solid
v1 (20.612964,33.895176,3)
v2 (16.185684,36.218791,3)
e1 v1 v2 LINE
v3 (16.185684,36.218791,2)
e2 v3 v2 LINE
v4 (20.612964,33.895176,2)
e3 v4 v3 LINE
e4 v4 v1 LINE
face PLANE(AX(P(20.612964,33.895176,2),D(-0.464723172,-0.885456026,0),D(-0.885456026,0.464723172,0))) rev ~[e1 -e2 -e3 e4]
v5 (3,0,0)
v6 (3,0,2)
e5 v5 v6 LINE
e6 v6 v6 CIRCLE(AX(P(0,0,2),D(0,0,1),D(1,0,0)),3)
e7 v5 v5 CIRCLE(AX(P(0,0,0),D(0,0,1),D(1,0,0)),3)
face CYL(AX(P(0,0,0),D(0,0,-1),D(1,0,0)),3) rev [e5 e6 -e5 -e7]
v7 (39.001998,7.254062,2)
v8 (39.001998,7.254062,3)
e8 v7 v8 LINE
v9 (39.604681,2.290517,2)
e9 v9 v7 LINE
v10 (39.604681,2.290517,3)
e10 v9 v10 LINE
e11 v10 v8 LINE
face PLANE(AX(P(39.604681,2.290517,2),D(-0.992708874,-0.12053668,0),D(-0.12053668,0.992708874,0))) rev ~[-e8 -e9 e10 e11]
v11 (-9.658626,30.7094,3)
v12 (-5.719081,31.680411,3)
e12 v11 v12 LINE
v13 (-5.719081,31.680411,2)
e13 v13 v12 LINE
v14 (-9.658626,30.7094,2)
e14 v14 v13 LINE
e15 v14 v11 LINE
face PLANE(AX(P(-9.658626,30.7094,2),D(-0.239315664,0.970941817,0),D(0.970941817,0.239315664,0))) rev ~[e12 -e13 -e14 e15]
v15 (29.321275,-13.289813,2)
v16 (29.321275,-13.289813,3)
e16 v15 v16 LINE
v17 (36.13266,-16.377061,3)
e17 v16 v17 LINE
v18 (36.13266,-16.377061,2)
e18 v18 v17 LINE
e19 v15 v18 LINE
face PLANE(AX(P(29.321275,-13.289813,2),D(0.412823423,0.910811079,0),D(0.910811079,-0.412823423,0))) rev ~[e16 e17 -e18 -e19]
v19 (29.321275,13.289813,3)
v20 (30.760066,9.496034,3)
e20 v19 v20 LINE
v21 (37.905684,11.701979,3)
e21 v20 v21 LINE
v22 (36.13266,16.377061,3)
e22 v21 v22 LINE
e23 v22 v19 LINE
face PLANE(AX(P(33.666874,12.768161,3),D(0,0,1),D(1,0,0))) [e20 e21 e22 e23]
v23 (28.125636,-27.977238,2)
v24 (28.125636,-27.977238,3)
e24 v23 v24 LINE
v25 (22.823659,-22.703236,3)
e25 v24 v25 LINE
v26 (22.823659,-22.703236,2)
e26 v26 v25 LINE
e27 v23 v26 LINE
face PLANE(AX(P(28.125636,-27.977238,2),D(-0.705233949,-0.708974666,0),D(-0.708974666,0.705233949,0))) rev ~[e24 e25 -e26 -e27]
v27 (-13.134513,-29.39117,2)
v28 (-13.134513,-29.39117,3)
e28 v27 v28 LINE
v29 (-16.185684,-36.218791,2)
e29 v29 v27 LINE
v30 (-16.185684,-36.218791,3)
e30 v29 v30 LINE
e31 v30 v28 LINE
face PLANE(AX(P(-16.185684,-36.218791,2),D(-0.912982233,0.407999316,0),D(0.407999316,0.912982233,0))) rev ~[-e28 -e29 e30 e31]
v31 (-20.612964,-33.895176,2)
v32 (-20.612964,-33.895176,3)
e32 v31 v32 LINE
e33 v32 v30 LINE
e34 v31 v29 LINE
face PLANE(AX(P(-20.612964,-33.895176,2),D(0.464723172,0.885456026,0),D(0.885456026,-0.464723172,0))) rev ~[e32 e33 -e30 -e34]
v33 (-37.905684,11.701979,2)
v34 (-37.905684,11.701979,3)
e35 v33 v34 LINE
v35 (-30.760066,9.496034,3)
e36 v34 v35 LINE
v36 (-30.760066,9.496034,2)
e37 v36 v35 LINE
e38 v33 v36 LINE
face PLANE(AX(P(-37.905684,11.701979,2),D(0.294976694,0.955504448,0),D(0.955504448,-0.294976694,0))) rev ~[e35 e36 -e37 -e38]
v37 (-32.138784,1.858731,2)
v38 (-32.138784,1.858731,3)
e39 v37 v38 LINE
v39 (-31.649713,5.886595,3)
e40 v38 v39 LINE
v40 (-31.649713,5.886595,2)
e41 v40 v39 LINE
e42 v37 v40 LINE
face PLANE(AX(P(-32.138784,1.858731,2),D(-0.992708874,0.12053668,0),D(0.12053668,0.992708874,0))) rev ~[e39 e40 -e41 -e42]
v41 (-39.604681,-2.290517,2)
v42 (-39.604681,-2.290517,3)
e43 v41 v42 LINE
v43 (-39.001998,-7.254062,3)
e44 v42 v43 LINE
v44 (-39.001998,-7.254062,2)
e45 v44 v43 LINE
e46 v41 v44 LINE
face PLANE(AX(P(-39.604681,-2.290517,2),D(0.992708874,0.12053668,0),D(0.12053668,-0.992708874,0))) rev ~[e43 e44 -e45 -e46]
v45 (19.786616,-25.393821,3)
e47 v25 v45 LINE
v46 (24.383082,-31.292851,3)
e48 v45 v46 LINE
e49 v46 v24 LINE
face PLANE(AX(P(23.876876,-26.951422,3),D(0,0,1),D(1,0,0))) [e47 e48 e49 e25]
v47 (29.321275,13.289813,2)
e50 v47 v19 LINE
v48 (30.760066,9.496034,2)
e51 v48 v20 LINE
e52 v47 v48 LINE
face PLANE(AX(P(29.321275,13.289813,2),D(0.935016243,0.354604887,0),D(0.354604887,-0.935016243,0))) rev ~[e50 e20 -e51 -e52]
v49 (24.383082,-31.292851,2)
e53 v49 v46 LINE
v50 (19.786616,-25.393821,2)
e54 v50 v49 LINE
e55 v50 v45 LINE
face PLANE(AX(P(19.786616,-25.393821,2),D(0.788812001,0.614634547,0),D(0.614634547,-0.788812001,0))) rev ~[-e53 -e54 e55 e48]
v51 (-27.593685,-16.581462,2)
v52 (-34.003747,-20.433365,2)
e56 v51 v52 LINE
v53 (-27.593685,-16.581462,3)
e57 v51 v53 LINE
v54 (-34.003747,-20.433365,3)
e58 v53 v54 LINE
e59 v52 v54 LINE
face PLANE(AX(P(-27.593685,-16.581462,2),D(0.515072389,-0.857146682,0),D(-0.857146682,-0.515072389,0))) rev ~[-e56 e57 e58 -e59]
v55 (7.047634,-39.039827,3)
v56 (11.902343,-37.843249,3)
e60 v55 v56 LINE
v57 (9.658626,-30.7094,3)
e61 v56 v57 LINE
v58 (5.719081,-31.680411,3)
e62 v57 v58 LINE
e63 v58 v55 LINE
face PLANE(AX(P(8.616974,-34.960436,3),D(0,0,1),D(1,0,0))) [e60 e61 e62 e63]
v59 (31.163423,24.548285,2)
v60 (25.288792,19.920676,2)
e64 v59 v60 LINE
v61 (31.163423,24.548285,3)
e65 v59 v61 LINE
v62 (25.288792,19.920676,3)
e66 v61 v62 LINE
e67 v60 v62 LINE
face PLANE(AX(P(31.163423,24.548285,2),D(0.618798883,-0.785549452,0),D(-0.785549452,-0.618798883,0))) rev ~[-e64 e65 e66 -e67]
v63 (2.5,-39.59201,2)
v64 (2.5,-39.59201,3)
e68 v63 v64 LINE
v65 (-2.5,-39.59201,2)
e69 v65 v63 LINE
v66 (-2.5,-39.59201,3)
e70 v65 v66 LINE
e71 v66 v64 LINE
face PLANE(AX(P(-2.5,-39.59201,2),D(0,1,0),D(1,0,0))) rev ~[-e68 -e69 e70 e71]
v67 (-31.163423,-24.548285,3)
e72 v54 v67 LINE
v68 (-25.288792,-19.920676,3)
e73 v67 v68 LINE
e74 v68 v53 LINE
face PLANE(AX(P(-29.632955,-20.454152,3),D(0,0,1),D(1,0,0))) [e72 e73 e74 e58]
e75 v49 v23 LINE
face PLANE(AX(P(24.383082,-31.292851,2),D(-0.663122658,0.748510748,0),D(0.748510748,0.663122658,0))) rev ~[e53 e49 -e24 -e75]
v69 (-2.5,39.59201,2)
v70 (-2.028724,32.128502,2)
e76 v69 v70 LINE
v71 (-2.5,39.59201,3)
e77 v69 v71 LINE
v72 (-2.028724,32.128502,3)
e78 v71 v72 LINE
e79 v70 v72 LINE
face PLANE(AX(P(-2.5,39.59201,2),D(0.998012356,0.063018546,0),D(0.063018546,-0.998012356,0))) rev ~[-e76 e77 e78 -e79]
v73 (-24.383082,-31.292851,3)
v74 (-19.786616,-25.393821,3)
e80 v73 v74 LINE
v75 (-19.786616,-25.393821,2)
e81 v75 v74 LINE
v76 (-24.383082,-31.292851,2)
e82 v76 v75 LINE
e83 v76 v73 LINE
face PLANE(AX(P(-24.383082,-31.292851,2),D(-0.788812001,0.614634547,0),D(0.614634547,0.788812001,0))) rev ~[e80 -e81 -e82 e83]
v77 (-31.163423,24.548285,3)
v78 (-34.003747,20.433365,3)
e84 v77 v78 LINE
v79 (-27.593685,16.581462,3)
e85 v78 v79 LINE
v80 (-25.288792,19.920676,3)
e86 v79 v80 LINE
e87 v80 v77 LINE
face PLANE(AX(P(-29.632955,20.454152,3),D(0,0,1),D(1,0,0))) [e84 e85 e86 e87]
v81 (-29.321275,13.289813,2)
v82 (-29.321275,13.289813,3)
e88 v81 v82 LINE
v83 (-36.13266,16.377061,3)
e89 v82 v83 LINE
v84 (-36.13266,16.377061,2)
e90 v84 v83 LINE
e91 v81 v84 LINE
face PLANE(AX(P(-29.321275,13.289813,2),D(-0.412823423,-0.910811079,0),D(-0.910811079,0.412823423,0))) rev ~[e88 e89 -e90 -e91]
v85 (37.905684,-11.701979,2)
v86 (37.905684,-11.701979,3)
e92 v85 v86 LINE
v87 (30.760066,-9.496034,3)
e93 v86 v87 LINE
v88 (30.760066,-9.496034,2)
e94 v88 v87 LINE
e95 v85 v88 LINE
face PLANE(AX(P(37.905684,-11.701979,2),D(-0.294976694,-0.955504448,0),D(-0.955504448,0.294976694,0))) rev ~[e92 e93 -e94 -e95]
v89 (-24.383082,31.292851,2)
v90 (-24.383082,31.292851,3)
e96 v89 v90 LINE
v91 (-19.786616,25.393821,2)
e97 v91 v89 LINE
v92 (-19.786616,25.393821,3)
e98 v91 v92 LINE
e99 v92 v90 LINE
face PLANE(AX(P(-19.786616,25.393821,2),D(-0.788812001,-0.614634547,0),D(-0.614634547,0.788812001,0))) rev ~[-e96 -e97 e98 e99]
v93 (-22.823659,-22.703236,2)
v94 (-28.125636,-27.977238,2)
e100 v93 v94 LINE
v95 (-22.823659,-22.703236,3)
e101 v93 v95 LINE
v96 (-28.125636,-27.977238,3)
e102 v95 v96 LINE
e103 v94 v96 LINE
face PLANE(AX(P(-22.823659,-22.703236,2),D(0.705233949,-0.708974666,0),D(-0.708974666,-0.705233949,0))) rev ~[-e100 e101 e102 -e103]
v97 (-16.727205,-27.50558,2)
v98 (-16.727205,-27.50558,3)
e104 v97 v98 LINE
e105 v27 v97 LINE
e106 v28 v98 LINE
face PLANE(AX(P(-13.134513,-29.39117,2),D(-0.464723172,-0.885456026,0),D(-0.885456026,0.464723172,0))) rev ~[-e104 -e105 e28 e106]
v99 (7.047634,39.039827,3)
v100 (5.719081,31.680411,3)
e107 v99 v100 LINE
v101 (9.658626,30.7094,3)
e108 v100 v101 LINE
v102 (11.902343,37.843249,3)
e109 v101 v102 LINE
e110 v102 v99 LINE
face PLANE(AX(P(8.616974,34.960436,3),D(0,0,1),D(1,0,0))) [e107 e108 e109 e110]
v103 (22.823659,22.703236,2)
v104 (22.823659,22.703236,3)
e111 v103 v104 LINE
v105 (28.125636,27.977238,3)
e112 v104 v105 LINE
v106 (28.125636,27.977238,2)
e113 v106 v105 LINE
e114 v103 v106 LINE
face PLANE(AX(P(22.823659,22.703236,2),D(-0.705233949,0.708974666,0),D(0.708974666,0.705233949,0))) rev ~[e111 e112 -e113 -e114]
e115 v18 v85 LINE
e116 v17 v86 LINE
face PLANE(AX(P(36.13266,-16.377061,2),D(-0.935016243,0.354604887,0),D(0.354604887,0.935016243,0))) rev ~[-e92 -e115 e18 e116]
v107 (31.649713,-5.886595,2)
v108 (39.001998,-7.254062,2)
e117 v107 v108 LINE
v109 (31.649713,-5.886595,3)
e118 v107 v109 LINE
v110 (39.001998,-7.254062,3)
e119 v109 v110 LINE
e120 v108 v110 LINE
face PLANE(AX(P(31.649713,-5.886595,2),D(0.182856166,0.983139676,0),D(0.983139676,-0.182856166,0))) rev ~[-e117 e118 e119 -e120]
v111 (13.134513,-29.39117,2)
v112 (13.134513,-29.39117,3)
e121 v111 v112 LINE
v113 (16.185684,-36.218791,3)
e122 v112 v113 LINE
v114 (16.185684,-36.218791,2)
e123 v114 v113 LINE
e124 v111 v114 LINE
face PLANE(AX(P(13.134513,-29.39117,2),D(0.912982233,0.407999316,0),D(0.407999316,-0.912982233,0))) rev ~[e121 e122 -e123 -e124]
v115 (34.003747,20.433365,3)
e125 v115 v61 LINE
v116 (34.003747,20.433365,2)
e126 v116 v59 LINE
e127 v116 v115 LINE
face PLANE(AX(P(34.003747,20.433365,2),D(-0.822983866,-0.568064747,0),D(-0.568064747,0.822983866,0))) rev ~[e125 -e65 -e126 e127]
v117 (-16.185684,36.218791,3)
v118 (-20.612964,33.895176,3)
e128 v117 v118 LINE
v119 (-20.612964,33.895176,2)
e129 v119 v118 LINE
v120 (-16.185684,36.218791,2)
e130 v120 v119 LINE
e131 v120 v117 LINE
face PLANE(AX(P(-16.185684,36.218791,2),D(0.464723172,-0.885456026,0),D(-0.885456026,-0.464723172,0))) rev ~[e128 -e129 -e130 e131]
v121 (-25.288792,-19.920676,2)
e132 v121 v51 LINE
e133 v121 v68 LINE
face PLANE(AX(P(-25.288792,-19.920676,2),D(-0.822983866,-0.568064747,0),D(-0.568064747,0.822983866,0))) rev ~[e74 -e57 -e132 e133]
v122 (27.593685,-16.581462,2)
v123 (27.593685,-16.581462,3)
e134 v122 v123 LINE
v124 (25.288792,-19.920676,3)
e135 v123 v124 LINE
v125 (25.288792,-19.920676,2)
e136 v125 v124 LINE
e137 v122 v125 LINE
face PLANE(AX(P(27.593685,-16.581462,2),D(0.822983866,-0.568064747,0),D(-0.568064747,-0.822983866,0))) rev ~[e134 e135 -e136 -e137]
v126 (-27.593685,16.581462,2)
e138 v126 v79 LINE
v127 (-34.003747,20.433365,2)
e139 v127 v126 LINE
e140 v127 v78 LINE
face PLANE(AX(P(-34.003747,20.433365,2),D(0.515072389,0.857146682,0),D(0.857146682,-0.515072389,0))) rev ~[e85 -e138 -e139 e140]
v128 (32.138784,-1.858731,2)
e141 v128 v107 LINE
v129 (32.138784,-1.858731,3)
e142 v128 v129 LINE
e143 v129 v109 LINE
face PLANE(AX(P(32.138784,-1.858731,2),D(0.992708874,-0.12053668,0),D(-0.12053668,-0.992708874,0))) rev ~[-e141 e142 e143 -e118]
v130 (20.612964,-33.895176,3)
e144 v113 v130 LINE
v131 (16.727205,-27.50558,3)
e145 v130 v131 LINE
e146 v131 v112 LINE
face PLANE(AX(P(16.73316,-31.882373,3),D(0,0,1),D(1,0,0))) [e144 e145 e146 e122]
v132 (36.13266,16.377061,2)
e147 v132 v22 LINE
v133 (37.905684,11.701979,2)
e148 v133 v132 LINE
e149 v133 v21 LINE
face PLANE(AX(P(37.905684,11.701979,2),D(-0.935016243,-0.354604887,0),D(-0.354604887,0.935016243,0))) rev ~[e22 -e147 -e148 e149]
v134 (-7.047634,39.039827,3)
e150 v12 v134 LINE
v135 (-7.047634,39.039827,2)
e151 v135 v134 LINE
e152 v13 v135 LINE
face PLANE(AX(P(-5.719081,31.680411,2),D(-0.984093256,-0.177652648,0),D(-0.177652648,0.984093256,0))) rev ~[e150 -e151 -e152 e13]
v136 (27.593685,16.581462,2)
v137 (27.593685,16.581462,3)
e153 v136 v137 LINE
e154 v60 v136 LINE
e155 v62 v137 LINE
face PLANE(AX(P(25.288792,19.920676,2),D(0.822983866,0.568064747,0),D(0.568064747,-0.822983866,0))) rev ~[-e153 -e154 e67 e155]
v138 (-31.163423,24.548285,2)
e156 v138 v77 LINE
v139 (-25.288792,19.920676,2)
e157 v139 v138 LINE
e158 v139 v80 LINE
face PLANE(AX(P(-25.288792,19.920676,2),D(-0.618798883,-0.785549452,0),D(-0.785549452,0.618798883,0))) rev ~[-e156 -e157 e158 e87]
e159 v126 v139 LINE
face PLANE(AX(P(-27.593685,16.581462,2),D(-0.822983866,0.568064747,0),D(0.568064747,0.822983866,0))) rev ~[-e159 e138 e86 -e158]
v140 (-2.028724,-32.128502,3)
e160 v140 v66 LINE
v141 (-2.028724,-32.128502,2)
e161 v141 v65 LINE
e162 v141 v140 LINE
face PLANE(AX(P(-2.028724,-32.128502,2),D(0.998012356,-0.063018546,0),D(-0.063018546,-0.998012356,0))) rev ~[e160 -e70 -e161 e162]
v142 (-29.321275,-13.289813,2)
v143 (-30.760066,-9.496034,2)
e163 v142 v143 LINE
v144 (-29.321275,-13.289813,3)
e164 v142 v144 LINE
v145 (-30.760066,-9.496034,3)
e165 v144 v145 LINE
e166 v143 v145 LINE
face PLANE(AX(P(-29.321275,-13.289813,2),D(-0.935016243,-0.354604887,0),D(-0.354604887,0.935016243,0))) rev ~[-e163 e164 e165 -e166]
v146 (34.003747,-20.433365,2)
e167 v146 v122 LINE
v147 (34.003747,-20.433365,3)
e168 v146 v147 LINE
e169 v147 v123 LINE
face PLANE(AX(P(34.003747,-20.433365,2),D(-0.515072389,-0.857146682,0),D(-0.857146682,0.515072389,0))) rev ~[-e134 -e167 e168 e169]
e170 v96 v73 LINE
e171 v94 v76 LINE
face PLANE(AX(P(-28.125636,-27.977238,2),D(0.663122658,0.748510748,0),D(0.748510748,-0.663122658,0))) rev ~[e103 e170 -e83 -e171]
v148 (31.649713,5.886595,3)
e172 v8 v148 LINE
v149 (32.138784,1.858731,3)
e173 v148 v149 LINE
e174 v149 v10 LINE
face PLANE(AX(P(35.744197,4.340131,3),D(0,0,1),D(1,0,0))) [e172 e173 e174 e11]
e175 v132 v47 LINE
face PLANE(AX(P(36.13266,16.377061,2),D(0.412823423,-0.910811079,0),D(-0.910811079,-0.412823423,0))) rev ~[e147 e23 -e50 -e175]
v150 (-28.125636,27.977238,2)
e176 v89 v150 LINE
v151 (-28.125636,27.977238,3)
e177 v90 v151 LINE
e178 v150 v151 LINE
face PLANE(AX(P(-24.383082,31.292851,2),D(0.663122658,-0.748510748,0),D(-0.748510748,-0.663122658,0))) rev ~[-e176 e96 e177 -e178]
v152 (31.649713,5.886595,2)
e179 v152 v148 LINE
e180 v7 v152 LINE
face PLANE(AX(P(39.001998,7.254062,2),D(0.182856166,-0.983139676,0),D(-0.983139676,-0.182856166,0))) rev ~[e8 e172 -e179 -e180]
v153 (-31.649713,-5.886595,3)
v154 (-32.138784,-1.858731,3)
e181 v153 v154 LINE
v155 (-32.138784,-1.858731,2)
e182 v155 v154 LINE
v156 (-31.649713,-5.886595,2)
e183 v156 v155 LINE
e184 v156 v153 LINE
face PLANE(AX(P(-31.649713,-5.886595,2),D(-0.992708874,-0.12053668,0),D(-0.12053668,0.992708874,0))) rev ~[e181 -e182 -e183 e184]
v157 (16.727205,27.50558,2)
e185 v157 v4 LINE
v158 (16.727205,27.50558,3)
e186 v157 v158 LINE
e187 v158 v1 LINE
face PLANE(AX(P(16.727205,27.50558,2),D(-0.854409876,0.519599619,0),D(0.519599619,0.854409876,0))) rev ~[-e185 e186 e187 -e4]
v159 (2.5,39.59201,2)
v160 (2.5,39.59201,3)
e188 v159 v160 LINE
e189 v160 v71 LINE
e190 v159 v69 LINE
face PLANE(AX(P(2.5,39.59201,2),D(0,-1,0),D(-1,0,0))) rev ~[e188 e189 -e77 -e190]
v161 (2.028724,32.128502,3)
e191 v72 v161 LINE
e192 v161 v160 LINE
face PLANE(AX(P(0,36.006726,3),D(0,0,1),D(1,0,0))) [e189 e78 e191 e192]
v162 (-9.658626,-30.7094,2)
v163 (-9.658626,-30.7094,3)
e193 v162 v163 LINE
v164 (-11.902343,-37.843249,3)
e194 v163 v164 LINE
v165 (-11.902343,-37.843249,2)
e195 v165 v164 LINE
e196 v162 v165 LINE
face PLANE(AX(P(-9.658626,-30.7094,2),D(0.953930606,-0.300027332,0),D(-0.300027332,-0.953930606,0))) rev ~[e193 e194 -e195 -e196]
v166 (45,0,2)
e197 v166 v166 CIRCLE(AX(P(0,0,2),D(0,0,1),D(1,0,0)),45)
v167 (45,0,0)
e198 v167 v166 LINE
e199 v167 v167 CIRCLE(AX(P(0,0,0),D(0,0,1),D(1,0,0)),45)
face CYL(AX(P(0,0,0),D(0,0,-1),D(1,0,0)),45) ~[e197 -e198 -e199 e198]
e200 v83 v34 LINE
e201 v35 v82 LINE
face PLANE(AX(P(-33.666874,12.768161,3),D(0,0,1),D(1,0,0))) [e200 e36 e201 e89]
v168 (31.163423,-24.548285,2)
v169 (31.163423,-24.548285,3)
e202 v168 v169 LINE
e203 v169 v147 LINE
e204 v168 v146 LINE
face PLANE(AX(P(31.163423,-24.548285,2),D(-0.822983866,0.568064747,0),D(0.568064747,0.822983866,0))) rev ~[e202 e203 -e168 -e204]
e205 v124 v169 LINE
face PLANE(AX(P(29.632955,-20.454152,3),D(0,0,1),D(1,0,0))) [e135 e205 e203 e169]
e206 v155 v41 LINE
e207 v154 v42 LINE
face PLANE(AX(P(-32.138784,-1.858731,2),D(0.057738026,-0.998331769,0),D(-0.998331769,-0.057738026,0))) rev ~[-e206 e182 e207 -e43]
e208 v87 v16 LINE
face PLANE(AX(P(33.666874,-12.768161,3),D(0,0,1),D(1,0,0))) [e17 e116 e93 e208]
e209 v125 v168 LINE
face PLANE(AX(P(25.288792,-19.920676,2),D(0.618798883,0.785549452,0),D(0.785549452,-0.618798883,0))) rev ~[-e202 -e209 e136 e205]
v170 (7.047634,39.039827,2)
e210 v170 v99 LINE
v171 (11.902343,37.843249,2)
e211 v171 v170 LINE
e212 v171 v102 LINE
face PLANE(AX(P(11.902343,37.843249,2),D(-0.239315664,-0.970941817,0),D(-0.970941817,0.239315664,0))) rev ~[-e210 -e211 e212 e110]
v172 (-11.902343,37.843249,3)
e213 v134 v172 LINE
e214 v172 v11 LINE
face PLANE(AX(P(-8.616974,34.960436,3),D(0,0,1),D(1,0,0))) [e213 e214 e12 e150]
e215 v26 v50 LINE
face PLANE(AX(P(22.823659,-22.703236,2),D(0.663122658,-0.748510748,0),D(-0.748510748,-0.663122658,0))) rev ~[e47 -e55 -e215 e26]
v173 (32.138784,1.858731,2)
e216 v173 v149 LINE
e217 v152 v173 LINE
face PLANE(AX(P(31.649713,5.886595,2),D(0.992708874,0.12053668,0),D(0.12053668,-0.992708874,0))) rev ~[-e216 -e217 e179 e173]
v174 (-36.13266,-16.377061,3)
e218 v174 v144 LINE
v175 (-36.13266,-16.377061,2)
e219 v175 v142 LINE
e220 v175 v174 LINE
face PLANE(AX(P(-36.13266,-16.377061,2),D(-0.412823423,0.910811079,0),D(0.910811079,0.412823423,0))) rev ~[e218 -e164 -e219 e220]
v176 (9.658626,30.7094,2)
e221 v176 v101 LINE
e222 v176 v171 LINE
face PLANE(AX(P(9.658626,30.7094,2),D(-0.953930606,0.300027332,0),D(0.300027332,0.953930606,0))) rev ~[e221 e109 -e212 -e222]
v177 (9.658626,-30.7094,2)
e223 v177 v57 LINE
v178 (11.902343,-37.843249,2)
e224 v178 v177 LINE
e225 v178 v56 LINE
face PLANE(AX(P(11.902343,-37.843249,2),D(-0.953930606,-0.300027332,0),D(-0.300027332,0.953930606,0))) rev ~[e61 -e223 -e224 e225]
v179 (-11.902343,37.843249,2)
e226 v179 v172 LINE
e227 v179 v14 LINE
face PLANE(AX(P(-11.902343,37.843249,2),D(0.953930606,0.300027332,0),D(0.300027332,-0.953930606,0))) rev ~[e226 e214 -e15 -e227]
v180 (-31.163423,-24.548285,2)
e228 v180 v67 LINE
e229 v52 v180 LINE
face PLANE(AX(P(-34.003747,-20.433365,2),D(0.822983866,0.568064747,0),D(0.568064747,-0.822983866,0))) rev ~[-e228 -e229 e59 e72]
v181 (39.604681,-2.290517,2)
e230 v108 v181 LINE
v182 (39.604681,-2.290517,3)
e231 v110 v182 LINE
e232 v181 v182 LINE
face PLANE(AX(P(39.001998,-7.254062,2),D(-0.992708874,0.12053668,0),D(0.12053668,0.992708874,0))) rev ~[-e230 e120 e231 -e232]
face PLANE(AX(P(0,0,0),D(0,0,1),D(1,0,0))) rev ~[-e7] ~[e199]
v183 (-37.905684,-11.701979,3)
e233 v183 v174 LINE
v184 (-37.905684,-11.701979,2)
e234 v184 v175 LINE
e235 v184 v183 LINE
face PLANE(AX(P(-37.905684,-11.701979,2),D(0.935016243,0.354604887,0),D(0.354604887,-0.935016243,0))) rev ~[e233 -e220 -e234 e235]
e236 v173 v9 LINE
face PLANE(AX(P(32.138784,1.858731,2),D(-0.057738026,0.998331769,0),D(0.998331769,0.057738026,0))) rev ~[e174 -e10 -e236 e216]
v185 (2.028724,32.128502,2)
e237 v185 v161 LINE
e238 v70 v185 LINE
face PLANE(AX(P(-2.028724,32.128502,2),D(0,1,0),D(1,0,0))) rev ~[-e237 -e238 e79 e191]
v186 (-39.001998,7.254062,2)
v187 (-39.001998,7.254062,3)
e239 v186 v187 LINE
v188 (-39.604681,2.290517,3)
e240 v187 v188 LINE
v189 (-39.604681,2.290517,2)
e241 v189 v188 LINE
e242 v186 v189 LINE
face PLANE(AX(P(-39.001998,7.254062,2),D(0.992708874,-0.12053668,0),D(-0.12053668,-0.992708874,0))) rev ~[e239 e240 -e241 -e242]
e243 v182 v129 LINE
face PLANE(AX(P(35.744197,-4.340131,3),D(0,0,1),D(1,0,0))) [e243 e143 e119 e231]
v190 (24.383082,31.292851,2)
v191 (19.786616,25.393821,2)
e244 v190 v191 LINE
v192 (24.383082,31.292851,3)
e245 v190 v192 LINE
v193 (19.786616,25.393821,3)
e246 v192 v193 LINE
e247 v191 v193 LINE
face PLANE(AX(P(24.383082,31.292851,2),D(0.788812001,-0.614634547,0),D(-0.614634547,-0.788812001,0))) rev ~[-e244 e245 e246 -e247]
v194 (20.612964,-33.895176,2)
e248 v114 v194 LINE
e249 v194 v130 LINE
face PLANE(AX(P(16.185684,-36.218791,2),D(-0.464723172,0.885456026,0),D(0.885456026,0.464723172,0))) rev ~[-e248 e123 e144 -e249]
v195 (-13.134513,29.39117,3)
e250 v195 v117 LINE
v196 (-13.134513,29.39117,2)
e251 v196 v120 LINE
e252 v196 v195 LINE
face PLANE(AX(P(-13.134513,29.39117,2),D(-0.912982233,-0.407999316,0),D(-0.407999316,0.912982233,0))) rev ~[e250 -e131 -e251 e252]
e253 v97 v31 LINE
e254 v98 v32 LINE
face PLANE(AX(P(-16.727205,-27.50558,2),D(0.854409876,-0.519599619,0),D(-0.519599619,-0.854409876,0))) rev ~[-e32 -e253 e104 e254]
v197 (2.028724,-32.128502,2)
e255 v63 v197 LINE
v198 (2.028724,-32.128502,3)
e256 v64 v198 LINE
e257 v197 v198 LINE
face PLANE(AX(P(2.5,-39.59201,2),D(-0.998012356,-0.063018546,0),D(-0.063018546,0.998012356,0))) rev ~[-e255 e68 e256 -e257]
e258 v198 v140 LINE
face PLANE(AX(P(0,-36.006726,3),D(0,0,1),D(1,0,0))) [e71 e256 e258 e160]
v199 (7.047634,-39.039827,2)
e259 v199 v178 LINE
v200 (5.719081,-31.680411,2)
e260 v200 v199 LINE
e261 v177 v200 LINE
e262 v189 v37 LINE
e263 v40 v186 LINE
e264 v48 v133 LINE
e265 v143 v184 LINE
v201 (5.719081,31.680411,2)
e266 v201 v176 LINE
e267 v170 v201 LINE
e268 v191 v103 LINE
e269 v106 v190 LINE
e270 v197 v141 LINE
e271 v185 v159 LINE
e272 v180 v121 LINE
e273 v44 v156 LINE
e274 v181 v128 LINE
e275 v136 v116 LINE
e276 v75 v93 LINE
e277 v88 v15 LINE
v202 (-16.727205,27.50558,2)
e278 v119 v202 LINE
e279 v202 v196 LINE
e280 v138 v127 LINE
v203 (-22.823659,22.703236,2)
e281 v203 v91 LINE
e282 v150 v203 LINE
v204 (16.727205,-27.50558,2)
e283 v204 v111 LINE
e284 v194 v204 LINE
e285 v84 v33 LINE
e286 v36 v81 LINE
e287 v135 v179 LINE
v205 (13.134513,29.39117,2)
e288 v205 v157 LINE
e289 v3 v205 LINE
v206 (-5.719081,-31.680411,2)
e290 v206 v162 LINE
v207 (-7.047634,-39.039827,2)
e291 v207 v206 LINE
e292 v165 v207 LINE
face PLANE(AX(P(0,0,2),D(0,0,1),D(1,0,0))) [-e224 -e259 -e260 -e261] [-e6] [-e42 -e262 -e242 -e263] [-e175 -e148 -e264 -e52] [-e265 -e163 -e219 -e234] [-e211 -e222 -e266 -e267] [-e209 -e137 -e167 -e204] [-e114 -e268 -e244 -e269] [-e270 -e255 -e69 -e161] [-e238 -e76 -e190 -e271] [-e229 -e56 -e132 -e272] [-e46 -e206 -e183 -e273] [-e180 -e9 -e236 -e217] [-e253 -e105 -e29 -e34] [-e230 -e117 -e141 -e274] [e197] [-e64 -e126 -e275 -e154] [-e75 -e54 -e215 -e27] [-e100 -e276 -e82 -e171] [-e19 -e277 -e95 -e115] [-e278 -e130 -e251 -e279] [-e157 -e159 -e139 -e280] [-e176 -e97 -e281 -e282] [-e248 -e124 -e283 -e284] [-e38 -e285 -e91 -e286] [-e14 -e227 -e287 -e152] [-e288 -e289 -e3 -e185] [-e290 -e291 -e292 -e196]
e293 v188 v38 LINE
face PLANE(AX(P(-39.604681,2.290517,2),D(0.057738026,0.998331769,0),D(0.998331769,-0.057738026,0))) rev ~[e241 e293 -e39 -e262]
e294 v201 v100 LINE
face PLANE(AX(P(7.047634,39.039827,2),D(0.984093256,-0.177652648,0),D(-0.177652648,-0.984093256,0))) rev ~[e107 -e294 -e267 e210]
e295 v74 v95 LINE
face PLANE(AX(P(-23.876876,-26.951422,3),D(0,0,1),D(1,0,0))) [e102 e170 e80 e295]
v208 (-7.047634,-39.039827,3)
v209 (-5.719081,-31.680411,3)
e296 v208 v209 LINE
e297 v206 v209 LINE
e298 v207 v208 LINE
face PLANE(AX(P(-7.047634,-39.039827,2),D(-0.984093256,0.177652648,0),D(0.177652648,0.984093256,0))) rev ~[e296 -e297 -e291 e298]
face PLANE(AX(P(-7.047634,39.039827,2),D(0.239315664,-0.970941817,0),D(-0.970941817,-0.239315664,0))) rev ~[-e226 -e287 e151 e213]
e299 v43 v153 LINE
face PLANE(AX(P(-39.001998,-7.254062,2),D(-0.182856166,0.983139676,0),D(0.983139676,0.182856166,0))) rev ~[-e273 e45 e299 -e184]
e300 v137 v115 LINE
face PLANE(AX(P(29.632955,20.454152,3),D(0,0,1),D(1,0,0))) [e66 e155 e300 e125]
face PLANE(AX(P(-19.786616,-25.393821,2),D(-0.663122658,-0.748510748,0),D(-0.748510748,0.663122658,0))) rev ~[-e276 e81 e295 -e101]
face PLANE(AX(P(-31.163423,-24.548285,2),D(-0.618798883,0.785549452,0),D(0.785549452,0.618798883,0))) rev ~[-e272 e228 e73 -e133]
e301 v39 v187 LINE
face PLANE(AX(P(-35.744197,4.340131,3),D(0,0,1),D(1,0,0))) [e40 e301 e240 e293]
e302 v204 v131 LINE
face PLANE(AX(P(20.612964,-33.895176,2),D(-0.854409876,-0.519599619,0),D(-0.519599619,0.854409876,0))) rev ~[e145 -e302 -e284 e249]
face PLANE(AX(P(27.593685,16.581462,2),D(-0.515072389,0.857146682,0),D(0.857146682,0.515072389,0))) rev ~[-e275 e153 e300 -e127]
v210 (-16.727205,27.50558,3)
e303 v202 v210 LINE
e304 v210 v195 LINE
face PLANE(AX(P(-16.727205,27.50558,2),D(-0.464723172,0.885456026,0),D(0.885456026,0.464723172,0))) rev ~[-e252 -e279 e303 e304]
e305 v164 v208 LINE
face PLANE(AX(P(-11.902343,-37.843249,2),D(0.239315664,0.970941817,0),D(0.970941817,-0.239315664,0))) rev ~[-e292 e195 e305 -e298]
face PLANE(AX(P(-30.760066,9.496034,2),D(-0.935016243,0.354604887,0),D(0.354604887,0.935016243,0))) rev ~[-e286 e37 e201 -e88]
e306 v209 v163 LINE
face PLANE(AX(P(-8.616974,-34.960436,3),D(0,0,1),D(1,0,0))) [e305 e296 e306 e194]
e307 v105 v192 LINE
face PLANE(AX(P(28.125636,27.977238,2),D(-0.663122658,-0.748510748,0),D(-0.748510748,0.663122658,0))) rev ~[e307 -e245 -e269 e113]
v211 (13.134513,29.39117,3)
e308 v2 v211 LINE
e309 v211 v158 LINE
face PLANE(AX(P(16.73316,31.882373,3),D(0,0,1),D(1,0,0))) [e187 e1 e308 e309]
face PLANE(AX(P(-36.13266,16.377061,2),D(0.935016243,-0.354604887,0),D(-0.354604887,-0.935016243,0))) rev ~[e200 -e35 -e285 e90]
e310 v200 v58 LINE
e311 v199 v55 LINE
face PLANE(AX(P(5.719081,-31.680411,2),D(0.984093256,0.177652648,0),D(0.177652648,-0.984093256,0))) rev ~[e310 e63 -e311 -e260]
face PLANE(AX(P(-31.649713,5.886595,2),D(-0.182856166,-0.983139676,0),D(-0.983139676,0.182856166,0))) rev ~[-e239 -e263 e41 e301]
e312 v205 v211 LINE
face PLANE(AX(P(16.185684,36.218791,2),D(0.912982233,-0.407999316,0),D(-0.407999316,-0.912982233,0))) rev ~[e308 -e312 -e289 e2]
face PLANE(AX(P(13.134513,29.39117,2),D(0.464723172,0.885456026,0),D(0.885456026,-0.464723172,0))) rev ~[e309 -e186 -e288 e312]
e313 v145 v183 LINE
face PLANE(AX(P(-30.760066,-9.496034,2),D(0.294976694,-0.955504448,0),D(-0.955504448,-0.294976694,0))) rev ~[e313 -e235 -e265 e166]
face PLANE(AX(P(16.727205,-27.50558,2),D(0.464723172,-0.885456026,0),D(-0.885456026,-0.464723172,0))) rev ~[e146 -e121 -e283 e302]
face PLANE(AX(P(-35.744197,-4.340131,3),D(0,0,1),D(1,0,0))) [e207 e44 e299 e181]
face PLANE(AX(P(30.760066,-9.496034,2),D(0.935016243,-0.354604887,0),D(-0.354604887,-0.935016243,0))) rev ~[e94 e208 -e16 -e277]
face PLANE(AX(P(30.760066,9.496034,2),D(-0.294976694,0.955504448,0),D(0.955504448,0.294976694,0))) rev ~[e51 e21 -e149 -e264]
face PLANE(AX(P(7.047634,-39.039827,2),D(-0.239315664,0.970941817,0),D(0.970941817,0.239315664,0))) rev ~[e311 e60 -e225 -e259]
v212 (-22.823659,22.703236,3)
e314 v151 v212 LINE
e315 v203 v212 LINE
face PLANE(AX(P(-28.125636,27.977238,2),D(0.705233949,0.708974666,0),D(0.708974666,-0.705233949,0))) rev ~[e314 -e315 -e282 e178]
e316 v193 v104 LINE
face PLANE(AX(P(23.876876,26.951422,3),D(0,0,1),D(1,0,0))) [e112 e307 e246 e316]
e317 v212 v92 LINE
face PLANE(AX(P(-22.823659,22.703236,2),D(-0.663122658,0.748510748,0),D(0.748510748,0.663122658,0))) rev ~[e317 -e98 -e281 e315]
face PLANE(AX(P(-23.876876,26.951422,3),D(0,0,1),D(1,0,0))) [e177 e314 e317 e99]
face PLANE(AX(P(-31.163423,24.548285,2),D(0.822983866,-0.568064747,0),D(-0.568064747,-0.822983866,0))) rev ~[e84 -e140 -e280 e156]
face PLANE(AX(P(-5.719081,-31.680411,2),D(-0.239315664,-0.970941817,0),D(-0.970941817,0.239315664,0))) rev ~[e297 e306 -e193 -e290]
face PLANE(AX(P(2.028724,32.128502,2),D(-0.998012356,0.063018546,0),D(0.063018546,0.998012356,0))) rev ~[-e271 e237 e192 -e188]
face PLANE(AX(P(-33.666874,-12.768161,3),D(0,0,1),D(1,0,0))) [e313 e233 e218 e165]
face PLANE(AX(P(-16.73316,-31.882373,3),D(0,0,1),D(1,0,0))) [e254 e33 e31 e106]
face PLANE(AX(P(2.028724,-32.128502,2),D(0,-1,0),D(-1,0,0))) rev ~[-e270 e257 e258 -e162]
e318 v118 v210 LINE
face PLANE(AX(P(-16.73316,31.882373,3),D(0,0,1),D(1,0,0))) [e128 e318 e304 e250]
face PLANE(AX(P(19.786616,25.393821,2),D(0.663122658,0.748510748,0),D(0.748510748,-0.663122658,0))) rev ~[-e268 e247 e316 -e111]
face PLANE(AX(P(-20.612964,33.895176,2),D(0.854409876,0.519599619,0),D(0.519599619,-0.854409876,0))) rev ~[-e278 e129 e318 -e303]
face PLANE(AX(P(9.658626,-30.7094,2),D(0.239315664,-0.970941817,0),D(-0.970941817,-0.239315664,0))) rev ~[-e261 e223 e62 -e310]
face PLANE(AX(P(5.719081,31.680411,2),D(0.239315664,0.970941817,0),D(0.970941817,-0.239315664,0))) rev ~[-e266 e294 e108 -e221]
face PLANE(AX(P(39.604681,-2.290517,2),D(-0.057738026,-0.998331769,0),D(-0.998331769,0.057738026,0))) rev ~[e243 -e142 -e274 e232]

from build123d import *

# Parameters (mm, degrees)
SKETCH1_R           = 45
SKETCH1_R_2         = 3
BOSS_EXTRUDE1_DEPTH = 2
BOSS_EXTRUDE2_DEPTH = 1


with BuildPart() as part:
    # Sketch1 → Boss-Extrude1 (new body)
    with BuildSketch(Plane.XY):
        Circle(SKETCH1_R)
        Circle(SKETCH1_R_2, mode=Mode.SUBTRACT)
    extrude(amount=BOSS_EXTRUDE1_DEPTH)

    # Sketch2 → Boss-Extrude2 (add)
    with BuildSketch(Plane.XY.offset(2)):
        Polygon((2.5, 39.592009569), (-2.5, 39.592009569), (-2.028723843, 32.128501517), (2.028723843, 32.128501517), align=None)
        Polygon((11.902342614, 37.843248566), (7.047633527, 39.039826887), (5.719080868, 31.680411048), (9.658626498, 30.70940026), align=None)
        Polygon((20.612964339, 33.895175511), (16.18568421, 36.218791371), (13.134513387, 29.391170243), (16.727204889, 27.505580284), align=None)
        Polygon((28.125635501, 27.977238059), (24.38308176, 31.29285135), (19.78661573, 25.393821456), (22.823658933, 22.703235961), align=None)
        Polygon((34.003746961, 20.433365224), (31.163423227, 24.548284553), (25.288791888, 19.920676068), (27.59368488, 16.581462086), align=None)
        Polygon((37.905684245, 11.701979474), (36.13265981, 16.377060688), (29.321275383, 13.289813396), (30.760066161, 9.496033907), align=None)
        Polygon((39.604680943, 2.290517213), (39.001997542, 7.254061583), (31.64971293, 5.886595076), (32.138784205, 1.858730753), align=None)
        Polygon((39.001997542, -7.254061583), (39.604680943, -2.290517213), (32.138784205, -1.858730753), (31.64971293, -5.886595076), align=None)
        Polygon((36.13265981, -16.377060688), (37.905684245, -11.701979474), (30.760066161, -9.496033907), (29.321275383, -13.289813396), align=None)
        Polygon((31.163423227, -24.548284553), (34.003746961, -20.433365224), (27.59368488, -16.581462086), (25.288791888, -19.920676068), align=None)
        Polygon((24.38308176, -31.29285135), (28.125635501, -27.977238059), (22.823658933, -22.703235961), (19.78661573, -25.393821456), align=None)
        Polygon((16.18568421, -36.218791371), (20.612964339, -33.895175511), (16.727204889, -27.505580284), (13.134513387, -29.391170243), align=None)
        Polygon((7.047633527, -39.039826887), (11.902342614, -37.843248566), (9.658626498, -30.70940026), (5.719080868, -31.680411048), align=None)
        Polygon((-2.5, -39.592009569), (2.5, -39.592009569), (2.028723843, -32.128501517), (-2.028723843, -32.128501517), align=None)
        Polygon((-11.902342614, -37.843248566), (-7.047633527, -39.039826887), (-5.719080868, -31.680411048), (-9.658626498, -30.70940026), align=None)
        Polygon((-20.612964339, -33.895175511), (-16.18568421, -36.218791371), (-13.134513387, -29.391170243), (-16.727204889, -27.505580284), align=None)
        Polygon((-28.125635501, -27.977238059), (-24.38308176, -31.29285135), (-19.78661573, -25.393821456), (-22.823658933, -22.703235961), align=None)
        Polygon((-34.003746961, -20.433365224), (-31.163423227, -24.548284553), (-25.288791888, -19.920676068), (-27.59368488, -16.581462086), align=None)
        Polygon((-37.905684245, -11.701979474), (-36.13265981, -16.377060688), (-29.321275383, -13.289813396), (-30.760066161, -9.496033907), align=None)
        Polygon((-39.604680943, -2.290517213), (-39.001997542, -7.254061583), (-31.64971293, -5.886595076), (-32.138784205, -1.858730753), align=None)
        Polygon((-39.001997542, 7.254061583), (-39.604680943, 2.290517213), (-32.138784205, 1.858730753), (-31.64971293, 5.886595076), align=None)
        Polygon((-36.13265981, 16.377060688), (-37.905684245, 11.701979474), (-30.760066161, 9.496033907), (-29.321275383, 13.289813396), align=None)
        Polygon((-31.163423227, 24.548284553), (-34.003746961, 20.433365224), (-27.59368488, 16.581462086), (-25.288791888, 19.920676068), align=None)
        Polygon((-24.38308176, 31.29285135), (-28.125635501, 27.977238059), (-22.823658933, 22.703235961), (-19.78661573, 25.393821456), align=None)
        Polygon((-16.18568421, 36.218791371), (-20.612964339, 33.895175511), (-16.727204889, 27.505580284), (-13.134513387, 29.391170243), align=None)
        Polygon((-7.047633527, 39.039826887), (-11.902342614, 37.843248566), (-9.658626498, 30.70940026), (-5.719080868, 31.680411048), align=None)
    extrude(amount=BOSS_EXTRUDE2_DEPTH)


solid = part.part
